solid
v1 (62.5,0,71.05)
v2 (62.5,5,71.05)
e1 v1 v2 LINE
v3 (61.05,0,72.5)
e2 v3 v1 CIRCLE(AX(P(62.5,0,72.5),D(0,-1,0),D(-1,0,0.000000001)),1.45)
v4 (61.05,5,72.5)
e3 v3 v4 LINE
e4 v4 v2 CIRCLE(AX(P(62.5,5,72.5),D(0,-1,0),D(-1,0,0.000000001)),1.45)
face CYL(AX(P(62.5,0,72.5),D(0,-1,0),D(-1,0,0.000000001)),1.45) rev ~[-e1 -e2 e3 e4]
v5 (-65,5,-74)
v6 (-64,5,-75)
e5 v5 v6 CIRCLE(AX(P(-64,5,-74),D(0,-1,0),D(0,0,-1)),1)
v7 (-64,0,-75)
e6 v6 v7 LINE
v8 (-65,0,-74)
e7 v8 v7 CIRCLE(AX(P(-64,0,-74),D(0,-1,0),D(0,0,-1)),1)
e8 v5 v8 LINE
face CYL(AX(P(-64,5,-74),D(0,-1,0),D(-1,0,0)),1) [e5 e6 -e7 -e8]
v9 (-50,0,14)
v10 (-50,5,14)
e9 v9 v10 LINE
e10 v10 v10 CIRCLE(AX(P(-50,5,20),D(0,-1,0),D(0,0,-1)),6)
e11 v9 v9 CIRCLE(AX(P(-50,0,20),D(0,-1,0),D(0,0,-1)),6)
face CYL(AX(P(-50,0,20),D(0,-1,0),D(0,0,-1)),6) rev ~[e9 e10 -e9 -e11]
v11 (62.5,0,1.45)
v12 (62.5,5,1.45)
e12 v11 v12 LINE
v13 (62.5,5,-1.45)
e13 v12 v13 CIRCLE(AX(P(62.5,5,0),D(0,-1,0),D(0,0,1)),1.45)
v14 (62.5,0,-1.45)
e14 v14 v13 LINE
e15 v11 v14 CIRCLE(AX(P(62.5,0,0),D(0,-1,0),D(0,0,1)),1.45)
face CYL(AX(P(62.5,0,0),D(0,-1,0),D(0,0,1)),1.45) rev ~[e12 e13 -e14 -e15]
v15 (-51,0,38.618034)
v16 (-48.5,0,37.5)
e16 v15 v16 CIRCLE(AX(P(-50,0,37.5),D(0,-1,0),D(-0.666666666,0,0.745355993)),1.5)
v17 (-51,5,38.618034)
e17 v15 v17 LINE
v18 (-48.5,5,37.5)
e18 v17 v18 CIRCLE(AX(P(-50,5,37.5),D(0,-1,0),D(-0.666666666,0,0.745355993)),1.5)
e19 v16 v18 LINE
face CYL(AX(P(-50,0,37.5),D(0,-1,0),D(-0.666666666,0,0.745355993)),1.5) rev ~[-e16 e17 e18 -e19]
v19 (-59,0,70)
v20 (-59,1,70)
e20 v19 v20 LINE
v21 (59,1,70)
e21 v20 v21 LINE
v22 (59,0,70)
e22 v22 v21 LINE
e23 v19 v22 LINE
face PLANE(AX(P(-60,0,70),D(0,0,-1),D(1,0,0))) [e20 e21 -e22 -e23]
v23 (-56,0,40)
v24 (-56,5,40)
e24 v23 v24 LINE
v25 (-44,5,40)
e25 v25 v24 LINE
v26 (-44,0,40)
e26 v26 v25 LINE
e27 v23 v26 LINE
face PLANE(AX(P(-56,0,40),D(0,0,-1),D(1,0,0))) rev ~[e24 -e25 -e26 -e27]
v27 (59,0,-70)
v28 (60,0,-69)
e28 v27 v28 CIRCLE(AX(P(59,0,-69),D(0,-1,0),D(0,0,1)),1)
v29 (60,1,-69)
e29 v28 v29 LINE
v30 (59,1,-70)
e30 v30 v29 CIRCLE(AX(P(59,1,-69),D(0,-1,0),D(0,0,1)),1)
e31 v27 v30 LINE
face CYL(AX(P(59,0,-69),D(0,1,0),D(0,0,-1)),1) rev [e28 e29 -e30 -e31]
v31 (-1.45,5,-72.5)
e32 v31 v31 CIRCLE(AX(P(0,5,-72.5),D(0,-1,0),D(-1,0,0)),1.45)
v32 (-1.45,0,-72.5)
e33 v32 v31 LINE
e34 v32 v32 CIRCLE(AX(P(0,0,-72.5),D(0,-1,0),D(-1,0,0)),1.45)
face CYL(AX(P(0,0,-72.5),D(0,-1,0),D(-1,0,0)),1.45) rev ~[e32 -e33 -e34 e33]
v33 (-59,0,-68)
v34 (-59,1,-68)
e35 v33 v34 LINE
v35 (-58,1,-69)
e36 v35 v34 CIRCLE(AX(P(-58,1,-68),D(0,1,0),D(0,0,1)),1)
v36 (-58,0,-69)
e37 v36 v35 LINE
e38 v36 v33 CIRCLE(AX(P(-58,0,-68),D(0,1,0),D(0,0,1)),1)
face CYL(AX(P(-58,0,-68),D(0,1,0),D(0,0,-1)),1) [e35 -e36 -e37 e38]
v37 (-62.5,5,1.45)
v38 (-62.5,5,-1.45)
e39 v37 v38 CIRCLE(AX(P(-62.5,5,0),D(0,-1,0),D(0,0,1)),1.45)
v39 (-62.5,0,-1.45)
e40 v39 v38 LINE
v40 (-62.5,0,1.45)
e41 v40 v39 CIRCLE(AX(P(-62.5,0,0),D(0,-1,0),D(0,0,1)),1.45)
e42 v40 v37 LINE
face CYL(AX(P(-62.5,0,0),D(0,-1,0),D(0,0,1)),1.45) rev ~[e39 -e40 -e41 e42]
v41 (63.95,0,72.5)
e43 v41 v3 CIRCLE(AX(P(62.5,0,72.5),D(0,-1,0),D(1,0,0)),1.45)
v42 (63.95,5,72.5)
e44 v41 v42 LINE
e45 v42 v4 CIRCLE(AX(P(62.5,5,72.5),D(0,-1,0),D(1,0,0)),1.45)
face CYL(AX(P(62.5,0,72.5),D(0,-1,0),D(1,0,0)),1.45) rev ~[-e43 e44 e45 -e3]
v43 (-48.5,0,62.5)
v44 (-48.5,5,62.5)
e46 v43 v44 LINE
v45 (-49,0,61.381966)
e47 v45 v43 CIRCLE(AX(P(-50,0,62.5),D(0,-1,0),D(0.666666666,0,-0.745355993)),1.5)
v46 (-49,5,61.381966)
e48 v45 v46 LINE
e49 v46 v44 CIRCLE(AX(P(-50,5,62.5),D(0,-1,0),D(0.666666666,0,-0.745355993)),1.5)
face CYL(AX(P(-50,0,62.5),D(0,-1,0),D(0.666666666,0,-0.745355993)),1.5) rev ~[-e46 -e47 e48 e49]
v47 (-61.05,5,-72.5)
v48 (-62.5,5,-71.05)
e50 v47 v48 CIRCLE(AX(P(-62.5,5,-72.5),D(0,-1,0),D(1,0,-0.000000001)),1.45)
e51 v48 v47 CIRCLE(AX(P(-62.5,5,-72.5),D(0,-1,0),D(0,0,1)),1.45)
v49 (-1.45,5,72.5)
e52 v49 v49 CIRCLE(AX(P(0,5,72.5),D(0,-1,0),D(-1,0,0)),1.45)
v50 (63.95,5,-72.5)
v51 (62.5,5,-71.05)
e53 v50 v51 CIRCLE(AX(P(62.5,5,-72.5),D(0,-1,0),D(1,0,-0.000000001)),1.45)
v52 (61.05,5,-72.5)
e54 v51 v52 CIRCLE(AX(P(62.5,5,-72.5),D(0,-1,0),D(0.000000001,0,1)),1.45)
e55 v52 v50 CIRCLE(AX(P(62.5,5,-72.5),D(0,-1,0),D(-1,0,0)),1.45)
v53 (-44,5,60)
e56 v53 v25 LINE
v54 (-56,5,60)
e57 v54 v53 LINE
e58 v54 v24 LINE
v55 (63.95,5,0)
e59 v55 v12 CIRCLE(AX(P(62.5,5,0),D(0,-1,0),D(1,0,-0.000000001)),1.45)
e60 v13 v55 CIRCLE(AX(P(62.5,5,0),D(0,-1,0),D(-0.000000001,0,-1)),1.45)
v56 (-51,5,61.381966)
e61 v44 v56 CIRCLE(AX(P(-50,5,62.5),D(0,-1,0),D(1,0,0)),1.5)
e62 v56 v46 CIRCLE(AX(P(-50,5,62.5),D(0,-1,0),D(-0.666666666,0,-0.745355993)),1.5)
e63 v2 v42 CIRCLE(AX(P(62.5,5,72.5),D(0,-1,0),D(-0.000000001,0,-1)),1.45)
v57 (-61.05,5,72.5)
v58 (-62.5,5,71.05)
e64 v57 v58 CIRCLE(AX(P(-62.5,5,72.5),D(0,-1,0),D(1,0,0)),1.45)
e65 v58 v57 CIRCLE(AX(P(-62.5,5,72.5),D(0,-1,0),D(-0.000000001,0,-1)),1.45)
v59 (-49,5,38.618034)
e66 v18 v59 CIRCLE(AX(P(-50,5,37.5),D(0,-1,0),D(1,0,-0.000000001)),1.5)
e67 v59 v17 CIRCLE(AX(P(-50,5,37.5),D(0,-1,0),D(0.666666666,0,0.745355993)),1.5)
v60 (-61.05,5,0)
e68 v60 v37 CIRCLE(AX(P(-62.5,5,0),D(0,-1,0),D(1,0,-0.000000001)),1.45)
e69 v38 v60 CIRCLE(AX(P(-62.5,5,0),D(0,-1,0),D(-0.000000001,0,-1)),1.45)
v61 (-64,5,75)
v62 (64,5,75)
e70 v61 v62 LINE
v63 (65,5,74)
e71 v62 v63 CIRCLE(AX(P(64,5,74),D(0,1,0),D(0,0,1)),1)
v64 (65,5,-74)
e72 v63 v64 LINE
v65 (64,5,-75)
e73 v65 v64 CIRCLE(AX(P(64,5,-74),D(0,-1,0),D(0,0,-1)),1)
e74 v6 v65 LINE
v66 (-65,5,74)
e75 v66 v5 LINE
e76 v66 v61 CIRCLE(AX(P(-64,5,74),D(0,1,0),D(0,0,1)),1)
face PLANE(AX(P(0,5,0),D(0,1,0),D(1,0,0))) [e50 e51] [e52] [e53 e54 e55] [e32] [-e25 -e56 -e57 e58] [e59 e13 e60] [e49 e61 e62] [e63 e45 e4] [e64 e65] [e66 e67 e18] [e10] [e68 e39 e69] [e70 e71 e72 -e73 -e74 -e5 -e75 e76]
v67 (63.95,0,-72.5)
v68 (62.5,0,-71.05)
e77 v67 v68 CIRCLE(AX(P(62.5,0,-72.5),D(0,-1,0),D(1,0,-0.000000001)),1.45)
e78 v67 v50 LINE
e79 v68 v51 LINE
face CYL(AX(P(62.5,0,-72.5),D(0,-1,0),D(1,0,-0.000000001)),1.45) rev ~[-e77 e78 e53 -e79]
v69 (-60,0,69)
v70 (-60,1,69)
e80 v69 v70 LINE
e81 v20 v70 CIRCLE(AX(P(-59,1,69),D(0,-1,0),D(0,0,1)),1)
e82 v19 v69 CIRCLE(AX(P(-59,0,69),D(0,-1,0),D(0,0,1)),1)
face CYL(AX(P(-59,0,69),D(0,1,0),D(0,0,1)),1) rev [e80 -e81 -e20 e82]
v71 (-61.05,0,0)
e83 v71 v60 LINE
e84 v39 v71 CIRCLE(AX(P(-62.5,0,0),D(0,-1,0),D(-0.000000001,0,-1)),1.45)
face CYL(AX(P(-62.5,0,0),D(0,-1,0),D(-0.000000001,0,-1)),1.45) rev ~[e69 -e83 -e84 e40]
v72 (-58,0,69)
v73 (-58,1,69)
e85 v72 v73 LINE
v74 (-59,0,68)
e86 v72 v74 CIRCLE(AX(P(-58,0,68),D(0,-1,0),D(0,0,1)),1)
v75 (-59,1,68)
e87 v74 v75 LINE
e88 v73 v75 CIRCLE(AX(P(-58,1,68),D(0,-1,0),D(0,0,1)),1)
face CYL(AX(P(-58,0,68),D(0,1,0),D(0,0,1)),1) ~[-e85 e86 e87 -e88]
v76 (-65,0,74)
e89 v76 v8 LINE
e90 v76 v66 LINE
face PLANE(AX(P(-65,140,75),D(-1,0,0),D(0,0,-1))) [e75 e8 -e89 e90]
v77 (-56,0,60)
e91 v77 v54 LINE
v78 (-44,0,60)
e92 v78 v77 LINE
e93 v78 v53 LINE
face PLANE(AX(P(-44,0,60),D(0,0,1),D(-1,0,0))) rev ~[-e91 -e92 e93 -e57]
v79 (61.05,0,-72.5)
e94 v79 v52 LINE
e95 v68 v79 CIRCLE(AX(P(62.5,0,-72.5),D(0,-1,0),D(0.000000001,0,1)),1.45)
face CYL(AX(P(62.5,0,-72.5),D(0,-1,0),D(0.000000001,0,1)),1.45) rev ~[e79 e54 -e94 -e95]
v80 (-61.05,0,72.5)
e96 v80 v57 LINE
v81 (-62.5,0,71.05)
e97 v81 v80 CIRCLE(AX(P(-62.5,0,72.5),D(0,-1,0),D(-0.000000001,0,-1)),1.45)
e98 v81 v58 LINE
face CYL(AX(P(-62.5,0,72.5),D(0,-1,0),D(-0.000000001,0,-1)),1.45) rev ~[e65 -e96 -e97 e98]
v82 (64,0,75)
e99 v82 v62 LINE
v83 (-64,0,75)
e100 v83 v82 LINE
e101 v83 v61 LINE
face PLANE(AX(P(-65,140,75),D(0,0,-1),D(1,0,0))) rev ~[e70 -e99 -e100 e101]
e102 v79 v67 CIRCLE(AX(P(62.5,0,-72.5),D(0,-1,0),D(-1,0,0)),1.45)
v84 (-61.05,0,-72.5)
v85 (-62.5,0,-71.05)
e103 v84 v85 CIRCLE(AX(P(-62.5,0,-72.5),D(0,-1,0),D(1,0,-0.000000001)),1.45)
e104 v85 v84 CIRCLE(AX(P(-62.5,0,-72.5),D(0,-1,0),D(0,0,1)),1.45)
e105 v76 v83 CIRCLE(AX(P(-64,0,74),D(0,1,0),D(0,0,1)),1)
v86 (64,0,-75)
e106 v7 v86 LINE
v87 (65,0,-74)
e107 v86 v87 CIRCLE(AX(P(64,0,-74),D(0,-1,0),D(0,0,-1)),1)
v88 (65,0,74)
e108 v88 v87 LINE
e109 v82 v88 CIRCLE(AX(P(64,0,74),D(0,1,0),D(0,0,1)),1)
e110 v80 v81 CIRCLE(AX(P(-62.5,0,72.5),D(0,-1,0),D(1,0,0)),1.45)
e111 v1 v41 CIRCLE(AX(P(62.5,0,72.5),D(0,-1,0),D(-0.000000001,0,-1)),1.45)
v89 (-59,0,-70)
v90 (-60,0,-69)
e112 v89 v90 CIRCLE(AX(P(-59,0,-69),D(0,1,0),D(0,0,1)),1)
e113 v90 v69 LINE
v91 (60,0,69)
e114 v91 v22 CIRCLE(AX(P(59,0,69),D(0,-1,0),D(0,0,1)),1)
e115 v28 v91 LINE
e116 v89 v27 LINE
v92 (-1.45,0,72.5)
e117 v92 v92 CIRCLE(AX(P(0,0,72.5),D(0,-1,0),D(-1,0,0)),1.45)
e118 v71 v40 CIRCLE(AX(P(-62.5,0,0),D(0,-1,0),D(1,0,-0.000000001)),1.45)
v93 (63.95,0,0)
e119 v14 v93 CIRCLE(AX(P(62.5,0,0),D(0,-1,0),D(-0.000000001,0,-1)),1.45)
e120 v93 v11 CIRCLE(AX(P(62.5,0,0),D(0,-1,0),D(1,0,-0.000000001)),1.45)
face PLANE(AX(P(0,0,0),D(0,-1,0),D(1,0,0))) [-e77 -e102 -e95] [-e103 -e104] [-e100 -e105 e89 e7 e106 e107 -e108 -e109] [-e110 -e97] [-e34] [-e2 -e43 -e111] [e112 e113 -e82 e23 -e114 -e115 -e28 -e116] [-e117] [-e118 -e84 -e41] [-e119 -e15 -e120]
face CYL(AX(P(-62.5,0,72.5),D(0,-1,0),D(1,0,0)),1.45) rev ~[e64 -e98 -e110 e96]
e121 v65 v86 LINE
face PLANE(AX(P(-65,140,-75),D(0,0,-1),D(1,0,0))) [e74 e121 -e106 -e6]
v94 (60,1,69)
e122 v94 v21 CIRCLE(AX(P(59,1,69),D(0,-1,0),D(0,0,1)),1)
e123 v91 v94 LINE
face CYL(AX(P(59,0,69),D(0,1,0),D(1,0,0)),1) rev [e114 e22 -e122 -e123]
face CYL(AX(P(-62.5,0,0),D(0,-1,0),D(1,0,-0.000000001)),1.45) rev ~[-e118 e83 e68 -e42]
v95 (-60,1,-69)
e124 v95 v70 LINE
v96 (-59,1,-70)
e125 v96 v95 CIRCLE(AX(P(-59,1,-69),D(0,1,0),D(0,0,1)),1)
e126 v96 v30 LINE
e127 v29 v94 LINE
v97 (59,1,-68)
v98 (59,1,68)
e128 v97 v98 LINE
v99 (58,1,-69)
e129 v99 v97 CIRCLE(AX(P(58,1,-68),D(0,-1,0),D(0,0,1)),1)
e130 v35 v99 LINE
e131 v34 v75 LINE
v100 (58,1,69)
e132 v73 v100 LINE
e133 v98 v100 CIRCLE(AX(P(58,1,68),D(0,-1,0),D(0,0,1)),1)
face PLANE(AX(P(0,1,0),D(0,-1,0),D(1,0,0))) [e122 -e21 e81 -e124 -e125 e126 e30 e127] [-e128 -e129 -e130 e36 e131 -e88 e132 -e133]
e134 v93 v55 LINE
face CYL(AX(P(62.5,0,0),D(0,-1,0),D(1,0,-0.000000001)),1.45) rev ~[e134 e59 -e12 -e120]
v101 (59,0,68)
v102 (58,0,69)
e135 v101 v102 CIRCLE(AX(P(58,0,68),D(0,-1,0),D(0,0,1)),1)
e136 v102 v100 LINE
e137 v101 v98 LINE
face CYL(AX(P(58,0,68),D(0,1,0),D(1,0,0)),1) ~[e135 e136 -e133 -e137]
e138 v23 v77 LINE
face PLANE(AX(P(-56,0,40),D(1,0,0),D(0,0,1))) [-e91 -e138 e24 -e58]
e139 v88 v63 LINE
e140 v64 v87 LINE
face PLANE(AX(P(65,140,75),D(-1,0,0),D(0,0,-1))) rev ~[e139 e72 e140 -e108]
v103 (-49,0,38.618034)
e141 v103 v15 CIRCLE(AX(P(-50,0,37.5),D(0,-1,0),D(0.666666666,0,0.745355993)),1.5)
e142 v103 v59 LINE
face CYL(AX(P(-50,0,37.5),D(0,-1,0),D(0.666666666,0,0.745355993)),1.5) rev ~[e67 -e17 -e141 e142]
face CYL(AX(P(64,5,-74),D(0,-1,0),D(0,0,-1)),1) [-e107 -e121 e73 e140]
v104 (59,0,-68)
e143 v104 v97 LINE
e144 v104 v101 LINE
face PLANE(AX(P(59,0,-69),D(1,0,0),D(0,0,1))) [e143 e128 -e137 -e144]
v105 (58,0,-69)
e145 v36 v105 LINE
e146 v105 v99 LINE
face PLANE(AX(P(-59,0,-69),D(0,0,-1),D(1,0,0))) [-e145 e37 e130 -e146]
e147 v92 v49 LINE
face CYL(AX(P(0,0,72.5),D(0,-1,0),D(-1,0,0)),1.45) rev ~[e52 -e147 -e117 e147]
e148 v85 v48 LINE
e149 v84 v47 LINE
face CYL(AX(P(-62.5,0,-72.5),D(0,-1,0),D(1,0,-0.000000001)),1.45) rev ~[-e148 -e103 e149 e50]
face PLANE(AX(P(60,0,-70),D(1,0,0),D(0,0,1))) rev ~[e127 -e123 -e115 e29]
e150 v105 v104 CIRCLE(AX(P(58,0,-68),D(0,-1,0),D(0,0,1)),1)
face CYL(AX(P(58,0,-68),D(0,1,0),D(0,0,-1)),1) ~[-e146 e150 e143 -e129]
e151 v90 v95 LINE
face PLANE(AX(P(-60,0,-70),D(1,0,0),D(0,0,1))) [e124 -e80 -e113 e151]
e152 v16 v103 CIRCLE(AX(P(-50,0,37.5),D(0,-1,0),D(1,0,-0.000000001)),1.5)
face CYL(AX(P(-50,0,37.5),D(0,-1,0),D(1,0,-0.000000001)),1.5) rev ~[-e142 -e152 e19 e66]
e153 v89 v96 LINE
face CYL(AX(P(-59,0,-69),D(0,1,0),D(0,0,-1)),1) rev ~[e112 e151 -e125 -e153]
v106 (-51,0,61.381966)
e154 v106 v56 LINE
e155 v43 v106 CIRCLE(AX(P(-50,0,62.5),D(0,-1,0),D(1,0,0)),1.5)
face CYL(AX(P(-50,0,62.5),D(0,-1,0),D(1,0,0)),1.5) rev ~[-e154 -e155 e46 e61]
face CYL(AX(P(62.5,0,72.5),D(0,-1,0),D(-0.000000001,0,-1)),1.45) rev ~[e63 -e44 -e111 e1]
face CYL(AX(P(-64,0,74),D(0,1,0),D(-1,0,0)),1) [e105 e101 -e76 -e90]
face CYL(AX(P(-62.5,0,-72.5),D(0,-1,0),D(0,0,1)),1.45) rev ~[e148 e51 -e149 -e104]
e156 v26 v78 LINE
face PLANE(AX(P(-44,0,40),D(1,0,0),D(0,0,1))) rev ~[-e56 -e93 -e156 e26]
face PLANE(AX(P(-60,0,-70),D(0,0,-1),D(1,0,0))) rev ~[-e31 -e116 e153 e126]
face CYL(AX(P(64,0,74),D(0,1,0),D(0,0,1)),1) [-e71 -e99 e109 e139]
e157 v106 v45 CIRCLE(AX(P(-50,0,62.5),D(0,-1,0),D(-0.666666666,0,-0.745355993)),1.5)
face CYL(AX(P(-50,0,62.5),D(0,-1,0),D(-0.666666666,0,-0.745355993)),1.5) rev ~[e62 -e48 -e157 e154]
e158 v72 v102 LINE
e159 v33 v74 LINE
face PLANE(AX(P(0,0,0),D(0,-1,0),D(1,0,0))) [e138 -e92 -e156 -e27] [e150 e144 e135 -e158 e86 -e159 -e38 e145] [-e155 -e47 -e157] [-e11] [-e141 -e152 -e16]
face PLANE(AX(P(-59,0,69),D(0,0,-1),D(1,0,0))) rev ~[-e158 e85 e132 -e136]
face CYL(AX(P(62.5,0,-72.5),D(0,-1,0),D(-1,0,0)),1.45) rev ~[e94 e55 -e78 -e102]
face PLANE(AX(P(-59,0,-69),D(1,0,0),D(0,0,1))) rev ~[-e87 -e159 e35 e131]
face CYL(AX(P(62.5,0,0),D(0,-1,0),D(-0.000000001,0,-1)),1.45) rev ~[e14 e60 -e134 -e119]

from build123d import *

# Parameters (mm, degrees)
SKETCH1_W           = 130
SKETCH1_H           = 150
SKETCH1_W_2         = 120
SKETCH1_H_2         = 140
BOSS_EXTRUDE1_DEPTH = 140
SKETCH2_W           = 130
SKETCH2_H           = 150
BOSS_EXTRUDE2_DEPTH = 5
CUT_EXTRUDE1_DEPTH  = 12
SKETCH4_W           = 130
SKETCH4_H           = 150
CUT_EXTRUDE2_DEPTH  = 140
SKETCH6_W           = 120
SKETCH6_H           = 140
BOSS_EXTRUDE3_DEPTH = 5
FILLET1_R           = 1
SKETCH7_W           = 120
SKETCH7_H           = 140
SKETCH7_W_2         = 118
SKETCH7_H_2         = 138
CUT_EXTRUDE3_DEPTH  = 1
FILLET2_R           = 1
SKETCH8_W           = 5
SKETCH8_H           = 20
SKETCH8_W_2         = 2
CUT_EXTRUDE4_DEPTH  = 10
SKETCH9_R           = 6
CUT_EXTRUDE5_DEPTH  = 10


with BuildPart() as part:
    # Sketch1 → Boss-Extrude1 (new body)
    with BuildSketch(Plane(origin=(0, 0, 0), x_dir=(1, 0, 0), z_dir=(0, 1, 0))):
        Rectangle(SKETCH1_W, SKETCH1_H)
        Rectangle(SKETCH1_W_2, SKETCH1_H_2, mode=Mode.SUBTRACT)
    extrude(amount=BOSS_EXTRUDE1_DEPTH)

    # Sketch2 → Boss-Extrude2 (add)
    with BuildSketch(Plane(origin=(0, 140, 0), x_dir=(1, 0, 0), z_dir=(0, 1, 0))):
        Rectangle(SKETCH2_W, SKETCH2_H)
    extrude(amount=BOSS_EXTRUDE2_DEPTH)

    # Sketch3 → Cut-Extrude1 (cut)
    with BuildSketch(Plane.XZ):
        with BuildLine():
            ThreePointArc((1.45, -72.5), (0, -71.05), (-1.45, -72.5))
            Line((-1.45, -72.5), (1.45, -72.5))
        make_face()
        with BuildLine():
            Line((1.45, -72.5), (-1.45, -72.5))
            ThreePointArc((-1.45, -72.5), (0, -73.95), (1.45, -72.5))
        make_face()
        with BuildLine():
            ThreePointArc((63.95, -72.5), (63.525304833, -71.474695167), (62.5, -71.05))
            Line((62.5, -71.05), (62.5, -72.5))
            Line((62.5, -72.5), (61.05, -72.5))
            ThreePointArc((61.05, -72.5), (62.5, -73.95), (63.95, -72.5))
        make_face()
        with BuildLine():
            Line((62.5, -72.5), (62.5, -71.05))
            ThreePointArc((62.5, -71.05), (61.474695167, -71.474695167), (61.05, -72.5))
            Line((61.05, -72.5), (62.5, -72.5))
        make_face()
        with BuildLine():
            ThreePointArc((63.95, 0), (63.525304833, 1.025304833), (62.5, 1.45))
            Line((62.5, 1.45), (62.5, -1.45))
            ThreePointArc((62.5, -1.45), (63.525304833, -1.025304833), (63.95, 0))
        make_face()
        with BuildLine():
            Line((62.5, -1.45), (62.5, 1.45))
            ThreePointArc((62.5, 1.45), (61.05, 0), (62.5, -1.45))
        make_face()
        with BuildLine():
            ThreePointArc((63.95, 72.5), (62.5, 73.95), (61.05, 72.5))
            Line((61.05, 72.5), (62.5, 72.5))
            Line((62.5, 72.5), (62.5, 71.05))
            ThreePointArc((62.5, 71.05), (63.525304833, 71.474695167), (63.95, 72.5))
        make_face()
        with BuildLine():
            Line((62.5, 72.5), (61.05, 72.5))
            ThreePointArc((61.05, 72.5), (61.474695167, 71.474695167), (62.5, 71.05))
            Line((62.5, 71.05), (62.5, 72.5))
        make_face()
        with BuildLine():
            ThreePointArc((1.45, 72.5), (0, 73.95), (-1.45, 72.5))
            Line((-1.45, 72.5), (1.45, 72.5))
        make_face()
        with BuildLine():
            Line((1.45, 72.5), (-1.45, 72.5))
            ThreePointArc((-1.45, 72.5), (0, 71.05), (1.45, 72.5))
        make_face()
        with BuildLine():
            Line((-62.5, 71.05), (-62.5, 72.5))
            Line((-62.5, 72.5), (-61.05, 72.5))
            ThreePointArc((-61.05, 72.5), (-63.525304833, 73.525304833), (-62.5, 71.05))
        make_face()
        with BuildLine():
            Line((-61.05, 72.5), (-62.5, 72.5))
            Line((-62.5, 72.5), (-62.5, 71.05))
            ThreePointArc((-62.5, 71.05), (-61.474695167, 71.474695167), (-61.05, 72.5))
        make_face()
        with BuildLine():
            ThreePointArc((-61.05, 0), (-61.474695167, 1.025304833), (-62.5, 1.45))
            Line((-62.5, 1.45), (-62.5, -1.45))
            ThreePointArc((-62.5, -1.45), (-61.474695167, -1.025304833), (-61.05, 0))
        make_face()
        with BuildLine():
            Line((-62.5, -1.45), (-62.5, 1.45))
            ThreePointArc((-62.5, 1.45), (-63.95, 0), (-62.5, -1.45))
        make_face()
        with BuildLine():
            ThreePointArc((-61.05, -72.5), (-61.474695167, -71.474695167), (-62.5, -71.05))
            Line((-62.5, -71.05), (-62.5, -72.5))
            Line((-62.5, -72.5), (-61.05, -72.5))
        make_face()
        with BuildLine():
            Line((-62.5, -72.5), (-62.5, -71.05))
            ThreePointArc((-62.5, -71.05), (-63.525304833, -73.525304833), (-61.05, -72.5))
            Line((-61.05, -72.5), (-62.5, -72.5))
        make_face()
    extrude(amount=-CUT_EXTRUDE1_DEPTH, mode=Mode.SUBTRACT)

    # Sketch4 → Cut-Extrude2 (cut)
    with BuildSketch(Plane(origin=(0, 145, 0), x_dir=(1, 0, 0), z_dir=(0, 1, 0))):
        Rectangle(SKETCH4_W, SKETCH4_H)
    extrude(amount=-CUT_EXTRUDE2_DEPTH, mode=Mode.SUBTRACT)

    # Sketch6 → Boss-Extrude3 (add)
    with BuildSketch(Plane.XZ):
        Rectangle(SKETCH6_W, SKETCH6_H)
    extrude(amount=-BOSS_EXTRUDE3_DEPTH)

    # Fillet1
    fillet1_edges = [part.edges().sort_by_distance(p)[0] for p in [
        (-65, 2.5, -75),
        (65, 2.5, -75),
        (65, 2.5, 75),
        (-65, 2.5, 75),
    ]]
    fillet(fillet1_edges, radius=FILLET1_R)

    # Sketch7 → Cut-Extrude3 (cut)
    with BuildSketch(Plane.XZ):
        Rectangle(SKETCH7_W, SKETCH7_H)
        Rectangle(SKETCH7_W_2, SKETCH7_H_2, mode=Mode.SUBTRACT)
    extrude(amount=-CUT_EXTRUDE3_DEPTH, mode=Mode.SUBTRACT)

    # Fillet2
    fillet2_edges = [part.edges().sort_by_distance(p)[0] for p in [
        (60, 0.5, -70),
        (-60, 0.5, -70),
        (-60, 0.5, 70),
        (59, 0.5, -69),
        (59, 0.5, 69),
        (-59, 0.5, 69),
        (-59, 0.5, -69),
        (60, 0.5, 70),
    ]]
    fillet(fillet2_edges, radius=FILLET2_R)

    # Sketch8 → Cut-Extrude4 (cut)
    with BuildSketch(Plane.XZ):
        with Locations((-53.5, 50)):
            Rectangle(SKETCH8_W, SKETCH8_H)
        with Locations((-50, 50)):
            Rectangle(SKETCH8_W_2, SKETCH8_H)
        with Locations((-46.5, 50)):
            Rectangle(SKETCH8_W, SKETCH8_H)
        with BuildLine():
            Line((-51, 61.381966011), (-51, 62.5))
            Line((-51, 62.5), (-49, 62.5))
            Line((-49, 62.5), (-49, 61.381966011))
            ThreePointArc((-49, 61.381966011), (-48.630693606, 61.887627564), (-48.5, 62.5))
            ThreePointArc((-48.5, 62.5), (-50.612372436, 63.869306394), (-51, 61.381966011))
        make_face()
        with BuildLine():
            Line((-49, 62.5), (-51, 62.5))
            Line((-51, 62.5), (-51, 61.381966011))
            ThreePointArc((-51, 61.381966011), (-50, 61), (-49, 61.381966011))
            Line((-49, 61.381966011), (-49, 62.5))
        make_face()
        with BuildLine():
            ThreePointArc((-49, 38.618033989), (-50, 39), (-51, 38.618033989))
            Line((-51, 38.618033989), (-51, 37.5))
            Line((-51, 37.5), (-49, 37.5))
            Line((-49, 37.5), (-49, 38.618033989))
        make_face()
        with BuildLine():
            Line((-51, 37.5), (-51, 38.618033989))
            ThreePointArc((-51, 38.618033989), (-50.612372436, 36.130693606), (-48.5, 37.5))
            ThreePointArc((-48.5, 37.5), (-48.630693606, 38.112372436), (-49, 38.618033989))
            Line((-49, 38.618033989), (-49, 37.5))
            Line((-49, 37.5), (-51, 37.5))
        make_face()
    extrude(amount=-CUT_EXTRUDE4_DEPTH, mode=Mode.SUBTRACT)

    # Sketch9 → Cut-Extrude5 (cut)
    with BuildSketch(Plane.XZ):
        with Locations(Location((-50, 20, 0), (0, 0, 270))):
            Circle(SKETCH9_R)
    extrude(amount=-CUT_EXTRUDE5_DEPTH, mode=Mode.SUBTRACT)


solid = part.part
